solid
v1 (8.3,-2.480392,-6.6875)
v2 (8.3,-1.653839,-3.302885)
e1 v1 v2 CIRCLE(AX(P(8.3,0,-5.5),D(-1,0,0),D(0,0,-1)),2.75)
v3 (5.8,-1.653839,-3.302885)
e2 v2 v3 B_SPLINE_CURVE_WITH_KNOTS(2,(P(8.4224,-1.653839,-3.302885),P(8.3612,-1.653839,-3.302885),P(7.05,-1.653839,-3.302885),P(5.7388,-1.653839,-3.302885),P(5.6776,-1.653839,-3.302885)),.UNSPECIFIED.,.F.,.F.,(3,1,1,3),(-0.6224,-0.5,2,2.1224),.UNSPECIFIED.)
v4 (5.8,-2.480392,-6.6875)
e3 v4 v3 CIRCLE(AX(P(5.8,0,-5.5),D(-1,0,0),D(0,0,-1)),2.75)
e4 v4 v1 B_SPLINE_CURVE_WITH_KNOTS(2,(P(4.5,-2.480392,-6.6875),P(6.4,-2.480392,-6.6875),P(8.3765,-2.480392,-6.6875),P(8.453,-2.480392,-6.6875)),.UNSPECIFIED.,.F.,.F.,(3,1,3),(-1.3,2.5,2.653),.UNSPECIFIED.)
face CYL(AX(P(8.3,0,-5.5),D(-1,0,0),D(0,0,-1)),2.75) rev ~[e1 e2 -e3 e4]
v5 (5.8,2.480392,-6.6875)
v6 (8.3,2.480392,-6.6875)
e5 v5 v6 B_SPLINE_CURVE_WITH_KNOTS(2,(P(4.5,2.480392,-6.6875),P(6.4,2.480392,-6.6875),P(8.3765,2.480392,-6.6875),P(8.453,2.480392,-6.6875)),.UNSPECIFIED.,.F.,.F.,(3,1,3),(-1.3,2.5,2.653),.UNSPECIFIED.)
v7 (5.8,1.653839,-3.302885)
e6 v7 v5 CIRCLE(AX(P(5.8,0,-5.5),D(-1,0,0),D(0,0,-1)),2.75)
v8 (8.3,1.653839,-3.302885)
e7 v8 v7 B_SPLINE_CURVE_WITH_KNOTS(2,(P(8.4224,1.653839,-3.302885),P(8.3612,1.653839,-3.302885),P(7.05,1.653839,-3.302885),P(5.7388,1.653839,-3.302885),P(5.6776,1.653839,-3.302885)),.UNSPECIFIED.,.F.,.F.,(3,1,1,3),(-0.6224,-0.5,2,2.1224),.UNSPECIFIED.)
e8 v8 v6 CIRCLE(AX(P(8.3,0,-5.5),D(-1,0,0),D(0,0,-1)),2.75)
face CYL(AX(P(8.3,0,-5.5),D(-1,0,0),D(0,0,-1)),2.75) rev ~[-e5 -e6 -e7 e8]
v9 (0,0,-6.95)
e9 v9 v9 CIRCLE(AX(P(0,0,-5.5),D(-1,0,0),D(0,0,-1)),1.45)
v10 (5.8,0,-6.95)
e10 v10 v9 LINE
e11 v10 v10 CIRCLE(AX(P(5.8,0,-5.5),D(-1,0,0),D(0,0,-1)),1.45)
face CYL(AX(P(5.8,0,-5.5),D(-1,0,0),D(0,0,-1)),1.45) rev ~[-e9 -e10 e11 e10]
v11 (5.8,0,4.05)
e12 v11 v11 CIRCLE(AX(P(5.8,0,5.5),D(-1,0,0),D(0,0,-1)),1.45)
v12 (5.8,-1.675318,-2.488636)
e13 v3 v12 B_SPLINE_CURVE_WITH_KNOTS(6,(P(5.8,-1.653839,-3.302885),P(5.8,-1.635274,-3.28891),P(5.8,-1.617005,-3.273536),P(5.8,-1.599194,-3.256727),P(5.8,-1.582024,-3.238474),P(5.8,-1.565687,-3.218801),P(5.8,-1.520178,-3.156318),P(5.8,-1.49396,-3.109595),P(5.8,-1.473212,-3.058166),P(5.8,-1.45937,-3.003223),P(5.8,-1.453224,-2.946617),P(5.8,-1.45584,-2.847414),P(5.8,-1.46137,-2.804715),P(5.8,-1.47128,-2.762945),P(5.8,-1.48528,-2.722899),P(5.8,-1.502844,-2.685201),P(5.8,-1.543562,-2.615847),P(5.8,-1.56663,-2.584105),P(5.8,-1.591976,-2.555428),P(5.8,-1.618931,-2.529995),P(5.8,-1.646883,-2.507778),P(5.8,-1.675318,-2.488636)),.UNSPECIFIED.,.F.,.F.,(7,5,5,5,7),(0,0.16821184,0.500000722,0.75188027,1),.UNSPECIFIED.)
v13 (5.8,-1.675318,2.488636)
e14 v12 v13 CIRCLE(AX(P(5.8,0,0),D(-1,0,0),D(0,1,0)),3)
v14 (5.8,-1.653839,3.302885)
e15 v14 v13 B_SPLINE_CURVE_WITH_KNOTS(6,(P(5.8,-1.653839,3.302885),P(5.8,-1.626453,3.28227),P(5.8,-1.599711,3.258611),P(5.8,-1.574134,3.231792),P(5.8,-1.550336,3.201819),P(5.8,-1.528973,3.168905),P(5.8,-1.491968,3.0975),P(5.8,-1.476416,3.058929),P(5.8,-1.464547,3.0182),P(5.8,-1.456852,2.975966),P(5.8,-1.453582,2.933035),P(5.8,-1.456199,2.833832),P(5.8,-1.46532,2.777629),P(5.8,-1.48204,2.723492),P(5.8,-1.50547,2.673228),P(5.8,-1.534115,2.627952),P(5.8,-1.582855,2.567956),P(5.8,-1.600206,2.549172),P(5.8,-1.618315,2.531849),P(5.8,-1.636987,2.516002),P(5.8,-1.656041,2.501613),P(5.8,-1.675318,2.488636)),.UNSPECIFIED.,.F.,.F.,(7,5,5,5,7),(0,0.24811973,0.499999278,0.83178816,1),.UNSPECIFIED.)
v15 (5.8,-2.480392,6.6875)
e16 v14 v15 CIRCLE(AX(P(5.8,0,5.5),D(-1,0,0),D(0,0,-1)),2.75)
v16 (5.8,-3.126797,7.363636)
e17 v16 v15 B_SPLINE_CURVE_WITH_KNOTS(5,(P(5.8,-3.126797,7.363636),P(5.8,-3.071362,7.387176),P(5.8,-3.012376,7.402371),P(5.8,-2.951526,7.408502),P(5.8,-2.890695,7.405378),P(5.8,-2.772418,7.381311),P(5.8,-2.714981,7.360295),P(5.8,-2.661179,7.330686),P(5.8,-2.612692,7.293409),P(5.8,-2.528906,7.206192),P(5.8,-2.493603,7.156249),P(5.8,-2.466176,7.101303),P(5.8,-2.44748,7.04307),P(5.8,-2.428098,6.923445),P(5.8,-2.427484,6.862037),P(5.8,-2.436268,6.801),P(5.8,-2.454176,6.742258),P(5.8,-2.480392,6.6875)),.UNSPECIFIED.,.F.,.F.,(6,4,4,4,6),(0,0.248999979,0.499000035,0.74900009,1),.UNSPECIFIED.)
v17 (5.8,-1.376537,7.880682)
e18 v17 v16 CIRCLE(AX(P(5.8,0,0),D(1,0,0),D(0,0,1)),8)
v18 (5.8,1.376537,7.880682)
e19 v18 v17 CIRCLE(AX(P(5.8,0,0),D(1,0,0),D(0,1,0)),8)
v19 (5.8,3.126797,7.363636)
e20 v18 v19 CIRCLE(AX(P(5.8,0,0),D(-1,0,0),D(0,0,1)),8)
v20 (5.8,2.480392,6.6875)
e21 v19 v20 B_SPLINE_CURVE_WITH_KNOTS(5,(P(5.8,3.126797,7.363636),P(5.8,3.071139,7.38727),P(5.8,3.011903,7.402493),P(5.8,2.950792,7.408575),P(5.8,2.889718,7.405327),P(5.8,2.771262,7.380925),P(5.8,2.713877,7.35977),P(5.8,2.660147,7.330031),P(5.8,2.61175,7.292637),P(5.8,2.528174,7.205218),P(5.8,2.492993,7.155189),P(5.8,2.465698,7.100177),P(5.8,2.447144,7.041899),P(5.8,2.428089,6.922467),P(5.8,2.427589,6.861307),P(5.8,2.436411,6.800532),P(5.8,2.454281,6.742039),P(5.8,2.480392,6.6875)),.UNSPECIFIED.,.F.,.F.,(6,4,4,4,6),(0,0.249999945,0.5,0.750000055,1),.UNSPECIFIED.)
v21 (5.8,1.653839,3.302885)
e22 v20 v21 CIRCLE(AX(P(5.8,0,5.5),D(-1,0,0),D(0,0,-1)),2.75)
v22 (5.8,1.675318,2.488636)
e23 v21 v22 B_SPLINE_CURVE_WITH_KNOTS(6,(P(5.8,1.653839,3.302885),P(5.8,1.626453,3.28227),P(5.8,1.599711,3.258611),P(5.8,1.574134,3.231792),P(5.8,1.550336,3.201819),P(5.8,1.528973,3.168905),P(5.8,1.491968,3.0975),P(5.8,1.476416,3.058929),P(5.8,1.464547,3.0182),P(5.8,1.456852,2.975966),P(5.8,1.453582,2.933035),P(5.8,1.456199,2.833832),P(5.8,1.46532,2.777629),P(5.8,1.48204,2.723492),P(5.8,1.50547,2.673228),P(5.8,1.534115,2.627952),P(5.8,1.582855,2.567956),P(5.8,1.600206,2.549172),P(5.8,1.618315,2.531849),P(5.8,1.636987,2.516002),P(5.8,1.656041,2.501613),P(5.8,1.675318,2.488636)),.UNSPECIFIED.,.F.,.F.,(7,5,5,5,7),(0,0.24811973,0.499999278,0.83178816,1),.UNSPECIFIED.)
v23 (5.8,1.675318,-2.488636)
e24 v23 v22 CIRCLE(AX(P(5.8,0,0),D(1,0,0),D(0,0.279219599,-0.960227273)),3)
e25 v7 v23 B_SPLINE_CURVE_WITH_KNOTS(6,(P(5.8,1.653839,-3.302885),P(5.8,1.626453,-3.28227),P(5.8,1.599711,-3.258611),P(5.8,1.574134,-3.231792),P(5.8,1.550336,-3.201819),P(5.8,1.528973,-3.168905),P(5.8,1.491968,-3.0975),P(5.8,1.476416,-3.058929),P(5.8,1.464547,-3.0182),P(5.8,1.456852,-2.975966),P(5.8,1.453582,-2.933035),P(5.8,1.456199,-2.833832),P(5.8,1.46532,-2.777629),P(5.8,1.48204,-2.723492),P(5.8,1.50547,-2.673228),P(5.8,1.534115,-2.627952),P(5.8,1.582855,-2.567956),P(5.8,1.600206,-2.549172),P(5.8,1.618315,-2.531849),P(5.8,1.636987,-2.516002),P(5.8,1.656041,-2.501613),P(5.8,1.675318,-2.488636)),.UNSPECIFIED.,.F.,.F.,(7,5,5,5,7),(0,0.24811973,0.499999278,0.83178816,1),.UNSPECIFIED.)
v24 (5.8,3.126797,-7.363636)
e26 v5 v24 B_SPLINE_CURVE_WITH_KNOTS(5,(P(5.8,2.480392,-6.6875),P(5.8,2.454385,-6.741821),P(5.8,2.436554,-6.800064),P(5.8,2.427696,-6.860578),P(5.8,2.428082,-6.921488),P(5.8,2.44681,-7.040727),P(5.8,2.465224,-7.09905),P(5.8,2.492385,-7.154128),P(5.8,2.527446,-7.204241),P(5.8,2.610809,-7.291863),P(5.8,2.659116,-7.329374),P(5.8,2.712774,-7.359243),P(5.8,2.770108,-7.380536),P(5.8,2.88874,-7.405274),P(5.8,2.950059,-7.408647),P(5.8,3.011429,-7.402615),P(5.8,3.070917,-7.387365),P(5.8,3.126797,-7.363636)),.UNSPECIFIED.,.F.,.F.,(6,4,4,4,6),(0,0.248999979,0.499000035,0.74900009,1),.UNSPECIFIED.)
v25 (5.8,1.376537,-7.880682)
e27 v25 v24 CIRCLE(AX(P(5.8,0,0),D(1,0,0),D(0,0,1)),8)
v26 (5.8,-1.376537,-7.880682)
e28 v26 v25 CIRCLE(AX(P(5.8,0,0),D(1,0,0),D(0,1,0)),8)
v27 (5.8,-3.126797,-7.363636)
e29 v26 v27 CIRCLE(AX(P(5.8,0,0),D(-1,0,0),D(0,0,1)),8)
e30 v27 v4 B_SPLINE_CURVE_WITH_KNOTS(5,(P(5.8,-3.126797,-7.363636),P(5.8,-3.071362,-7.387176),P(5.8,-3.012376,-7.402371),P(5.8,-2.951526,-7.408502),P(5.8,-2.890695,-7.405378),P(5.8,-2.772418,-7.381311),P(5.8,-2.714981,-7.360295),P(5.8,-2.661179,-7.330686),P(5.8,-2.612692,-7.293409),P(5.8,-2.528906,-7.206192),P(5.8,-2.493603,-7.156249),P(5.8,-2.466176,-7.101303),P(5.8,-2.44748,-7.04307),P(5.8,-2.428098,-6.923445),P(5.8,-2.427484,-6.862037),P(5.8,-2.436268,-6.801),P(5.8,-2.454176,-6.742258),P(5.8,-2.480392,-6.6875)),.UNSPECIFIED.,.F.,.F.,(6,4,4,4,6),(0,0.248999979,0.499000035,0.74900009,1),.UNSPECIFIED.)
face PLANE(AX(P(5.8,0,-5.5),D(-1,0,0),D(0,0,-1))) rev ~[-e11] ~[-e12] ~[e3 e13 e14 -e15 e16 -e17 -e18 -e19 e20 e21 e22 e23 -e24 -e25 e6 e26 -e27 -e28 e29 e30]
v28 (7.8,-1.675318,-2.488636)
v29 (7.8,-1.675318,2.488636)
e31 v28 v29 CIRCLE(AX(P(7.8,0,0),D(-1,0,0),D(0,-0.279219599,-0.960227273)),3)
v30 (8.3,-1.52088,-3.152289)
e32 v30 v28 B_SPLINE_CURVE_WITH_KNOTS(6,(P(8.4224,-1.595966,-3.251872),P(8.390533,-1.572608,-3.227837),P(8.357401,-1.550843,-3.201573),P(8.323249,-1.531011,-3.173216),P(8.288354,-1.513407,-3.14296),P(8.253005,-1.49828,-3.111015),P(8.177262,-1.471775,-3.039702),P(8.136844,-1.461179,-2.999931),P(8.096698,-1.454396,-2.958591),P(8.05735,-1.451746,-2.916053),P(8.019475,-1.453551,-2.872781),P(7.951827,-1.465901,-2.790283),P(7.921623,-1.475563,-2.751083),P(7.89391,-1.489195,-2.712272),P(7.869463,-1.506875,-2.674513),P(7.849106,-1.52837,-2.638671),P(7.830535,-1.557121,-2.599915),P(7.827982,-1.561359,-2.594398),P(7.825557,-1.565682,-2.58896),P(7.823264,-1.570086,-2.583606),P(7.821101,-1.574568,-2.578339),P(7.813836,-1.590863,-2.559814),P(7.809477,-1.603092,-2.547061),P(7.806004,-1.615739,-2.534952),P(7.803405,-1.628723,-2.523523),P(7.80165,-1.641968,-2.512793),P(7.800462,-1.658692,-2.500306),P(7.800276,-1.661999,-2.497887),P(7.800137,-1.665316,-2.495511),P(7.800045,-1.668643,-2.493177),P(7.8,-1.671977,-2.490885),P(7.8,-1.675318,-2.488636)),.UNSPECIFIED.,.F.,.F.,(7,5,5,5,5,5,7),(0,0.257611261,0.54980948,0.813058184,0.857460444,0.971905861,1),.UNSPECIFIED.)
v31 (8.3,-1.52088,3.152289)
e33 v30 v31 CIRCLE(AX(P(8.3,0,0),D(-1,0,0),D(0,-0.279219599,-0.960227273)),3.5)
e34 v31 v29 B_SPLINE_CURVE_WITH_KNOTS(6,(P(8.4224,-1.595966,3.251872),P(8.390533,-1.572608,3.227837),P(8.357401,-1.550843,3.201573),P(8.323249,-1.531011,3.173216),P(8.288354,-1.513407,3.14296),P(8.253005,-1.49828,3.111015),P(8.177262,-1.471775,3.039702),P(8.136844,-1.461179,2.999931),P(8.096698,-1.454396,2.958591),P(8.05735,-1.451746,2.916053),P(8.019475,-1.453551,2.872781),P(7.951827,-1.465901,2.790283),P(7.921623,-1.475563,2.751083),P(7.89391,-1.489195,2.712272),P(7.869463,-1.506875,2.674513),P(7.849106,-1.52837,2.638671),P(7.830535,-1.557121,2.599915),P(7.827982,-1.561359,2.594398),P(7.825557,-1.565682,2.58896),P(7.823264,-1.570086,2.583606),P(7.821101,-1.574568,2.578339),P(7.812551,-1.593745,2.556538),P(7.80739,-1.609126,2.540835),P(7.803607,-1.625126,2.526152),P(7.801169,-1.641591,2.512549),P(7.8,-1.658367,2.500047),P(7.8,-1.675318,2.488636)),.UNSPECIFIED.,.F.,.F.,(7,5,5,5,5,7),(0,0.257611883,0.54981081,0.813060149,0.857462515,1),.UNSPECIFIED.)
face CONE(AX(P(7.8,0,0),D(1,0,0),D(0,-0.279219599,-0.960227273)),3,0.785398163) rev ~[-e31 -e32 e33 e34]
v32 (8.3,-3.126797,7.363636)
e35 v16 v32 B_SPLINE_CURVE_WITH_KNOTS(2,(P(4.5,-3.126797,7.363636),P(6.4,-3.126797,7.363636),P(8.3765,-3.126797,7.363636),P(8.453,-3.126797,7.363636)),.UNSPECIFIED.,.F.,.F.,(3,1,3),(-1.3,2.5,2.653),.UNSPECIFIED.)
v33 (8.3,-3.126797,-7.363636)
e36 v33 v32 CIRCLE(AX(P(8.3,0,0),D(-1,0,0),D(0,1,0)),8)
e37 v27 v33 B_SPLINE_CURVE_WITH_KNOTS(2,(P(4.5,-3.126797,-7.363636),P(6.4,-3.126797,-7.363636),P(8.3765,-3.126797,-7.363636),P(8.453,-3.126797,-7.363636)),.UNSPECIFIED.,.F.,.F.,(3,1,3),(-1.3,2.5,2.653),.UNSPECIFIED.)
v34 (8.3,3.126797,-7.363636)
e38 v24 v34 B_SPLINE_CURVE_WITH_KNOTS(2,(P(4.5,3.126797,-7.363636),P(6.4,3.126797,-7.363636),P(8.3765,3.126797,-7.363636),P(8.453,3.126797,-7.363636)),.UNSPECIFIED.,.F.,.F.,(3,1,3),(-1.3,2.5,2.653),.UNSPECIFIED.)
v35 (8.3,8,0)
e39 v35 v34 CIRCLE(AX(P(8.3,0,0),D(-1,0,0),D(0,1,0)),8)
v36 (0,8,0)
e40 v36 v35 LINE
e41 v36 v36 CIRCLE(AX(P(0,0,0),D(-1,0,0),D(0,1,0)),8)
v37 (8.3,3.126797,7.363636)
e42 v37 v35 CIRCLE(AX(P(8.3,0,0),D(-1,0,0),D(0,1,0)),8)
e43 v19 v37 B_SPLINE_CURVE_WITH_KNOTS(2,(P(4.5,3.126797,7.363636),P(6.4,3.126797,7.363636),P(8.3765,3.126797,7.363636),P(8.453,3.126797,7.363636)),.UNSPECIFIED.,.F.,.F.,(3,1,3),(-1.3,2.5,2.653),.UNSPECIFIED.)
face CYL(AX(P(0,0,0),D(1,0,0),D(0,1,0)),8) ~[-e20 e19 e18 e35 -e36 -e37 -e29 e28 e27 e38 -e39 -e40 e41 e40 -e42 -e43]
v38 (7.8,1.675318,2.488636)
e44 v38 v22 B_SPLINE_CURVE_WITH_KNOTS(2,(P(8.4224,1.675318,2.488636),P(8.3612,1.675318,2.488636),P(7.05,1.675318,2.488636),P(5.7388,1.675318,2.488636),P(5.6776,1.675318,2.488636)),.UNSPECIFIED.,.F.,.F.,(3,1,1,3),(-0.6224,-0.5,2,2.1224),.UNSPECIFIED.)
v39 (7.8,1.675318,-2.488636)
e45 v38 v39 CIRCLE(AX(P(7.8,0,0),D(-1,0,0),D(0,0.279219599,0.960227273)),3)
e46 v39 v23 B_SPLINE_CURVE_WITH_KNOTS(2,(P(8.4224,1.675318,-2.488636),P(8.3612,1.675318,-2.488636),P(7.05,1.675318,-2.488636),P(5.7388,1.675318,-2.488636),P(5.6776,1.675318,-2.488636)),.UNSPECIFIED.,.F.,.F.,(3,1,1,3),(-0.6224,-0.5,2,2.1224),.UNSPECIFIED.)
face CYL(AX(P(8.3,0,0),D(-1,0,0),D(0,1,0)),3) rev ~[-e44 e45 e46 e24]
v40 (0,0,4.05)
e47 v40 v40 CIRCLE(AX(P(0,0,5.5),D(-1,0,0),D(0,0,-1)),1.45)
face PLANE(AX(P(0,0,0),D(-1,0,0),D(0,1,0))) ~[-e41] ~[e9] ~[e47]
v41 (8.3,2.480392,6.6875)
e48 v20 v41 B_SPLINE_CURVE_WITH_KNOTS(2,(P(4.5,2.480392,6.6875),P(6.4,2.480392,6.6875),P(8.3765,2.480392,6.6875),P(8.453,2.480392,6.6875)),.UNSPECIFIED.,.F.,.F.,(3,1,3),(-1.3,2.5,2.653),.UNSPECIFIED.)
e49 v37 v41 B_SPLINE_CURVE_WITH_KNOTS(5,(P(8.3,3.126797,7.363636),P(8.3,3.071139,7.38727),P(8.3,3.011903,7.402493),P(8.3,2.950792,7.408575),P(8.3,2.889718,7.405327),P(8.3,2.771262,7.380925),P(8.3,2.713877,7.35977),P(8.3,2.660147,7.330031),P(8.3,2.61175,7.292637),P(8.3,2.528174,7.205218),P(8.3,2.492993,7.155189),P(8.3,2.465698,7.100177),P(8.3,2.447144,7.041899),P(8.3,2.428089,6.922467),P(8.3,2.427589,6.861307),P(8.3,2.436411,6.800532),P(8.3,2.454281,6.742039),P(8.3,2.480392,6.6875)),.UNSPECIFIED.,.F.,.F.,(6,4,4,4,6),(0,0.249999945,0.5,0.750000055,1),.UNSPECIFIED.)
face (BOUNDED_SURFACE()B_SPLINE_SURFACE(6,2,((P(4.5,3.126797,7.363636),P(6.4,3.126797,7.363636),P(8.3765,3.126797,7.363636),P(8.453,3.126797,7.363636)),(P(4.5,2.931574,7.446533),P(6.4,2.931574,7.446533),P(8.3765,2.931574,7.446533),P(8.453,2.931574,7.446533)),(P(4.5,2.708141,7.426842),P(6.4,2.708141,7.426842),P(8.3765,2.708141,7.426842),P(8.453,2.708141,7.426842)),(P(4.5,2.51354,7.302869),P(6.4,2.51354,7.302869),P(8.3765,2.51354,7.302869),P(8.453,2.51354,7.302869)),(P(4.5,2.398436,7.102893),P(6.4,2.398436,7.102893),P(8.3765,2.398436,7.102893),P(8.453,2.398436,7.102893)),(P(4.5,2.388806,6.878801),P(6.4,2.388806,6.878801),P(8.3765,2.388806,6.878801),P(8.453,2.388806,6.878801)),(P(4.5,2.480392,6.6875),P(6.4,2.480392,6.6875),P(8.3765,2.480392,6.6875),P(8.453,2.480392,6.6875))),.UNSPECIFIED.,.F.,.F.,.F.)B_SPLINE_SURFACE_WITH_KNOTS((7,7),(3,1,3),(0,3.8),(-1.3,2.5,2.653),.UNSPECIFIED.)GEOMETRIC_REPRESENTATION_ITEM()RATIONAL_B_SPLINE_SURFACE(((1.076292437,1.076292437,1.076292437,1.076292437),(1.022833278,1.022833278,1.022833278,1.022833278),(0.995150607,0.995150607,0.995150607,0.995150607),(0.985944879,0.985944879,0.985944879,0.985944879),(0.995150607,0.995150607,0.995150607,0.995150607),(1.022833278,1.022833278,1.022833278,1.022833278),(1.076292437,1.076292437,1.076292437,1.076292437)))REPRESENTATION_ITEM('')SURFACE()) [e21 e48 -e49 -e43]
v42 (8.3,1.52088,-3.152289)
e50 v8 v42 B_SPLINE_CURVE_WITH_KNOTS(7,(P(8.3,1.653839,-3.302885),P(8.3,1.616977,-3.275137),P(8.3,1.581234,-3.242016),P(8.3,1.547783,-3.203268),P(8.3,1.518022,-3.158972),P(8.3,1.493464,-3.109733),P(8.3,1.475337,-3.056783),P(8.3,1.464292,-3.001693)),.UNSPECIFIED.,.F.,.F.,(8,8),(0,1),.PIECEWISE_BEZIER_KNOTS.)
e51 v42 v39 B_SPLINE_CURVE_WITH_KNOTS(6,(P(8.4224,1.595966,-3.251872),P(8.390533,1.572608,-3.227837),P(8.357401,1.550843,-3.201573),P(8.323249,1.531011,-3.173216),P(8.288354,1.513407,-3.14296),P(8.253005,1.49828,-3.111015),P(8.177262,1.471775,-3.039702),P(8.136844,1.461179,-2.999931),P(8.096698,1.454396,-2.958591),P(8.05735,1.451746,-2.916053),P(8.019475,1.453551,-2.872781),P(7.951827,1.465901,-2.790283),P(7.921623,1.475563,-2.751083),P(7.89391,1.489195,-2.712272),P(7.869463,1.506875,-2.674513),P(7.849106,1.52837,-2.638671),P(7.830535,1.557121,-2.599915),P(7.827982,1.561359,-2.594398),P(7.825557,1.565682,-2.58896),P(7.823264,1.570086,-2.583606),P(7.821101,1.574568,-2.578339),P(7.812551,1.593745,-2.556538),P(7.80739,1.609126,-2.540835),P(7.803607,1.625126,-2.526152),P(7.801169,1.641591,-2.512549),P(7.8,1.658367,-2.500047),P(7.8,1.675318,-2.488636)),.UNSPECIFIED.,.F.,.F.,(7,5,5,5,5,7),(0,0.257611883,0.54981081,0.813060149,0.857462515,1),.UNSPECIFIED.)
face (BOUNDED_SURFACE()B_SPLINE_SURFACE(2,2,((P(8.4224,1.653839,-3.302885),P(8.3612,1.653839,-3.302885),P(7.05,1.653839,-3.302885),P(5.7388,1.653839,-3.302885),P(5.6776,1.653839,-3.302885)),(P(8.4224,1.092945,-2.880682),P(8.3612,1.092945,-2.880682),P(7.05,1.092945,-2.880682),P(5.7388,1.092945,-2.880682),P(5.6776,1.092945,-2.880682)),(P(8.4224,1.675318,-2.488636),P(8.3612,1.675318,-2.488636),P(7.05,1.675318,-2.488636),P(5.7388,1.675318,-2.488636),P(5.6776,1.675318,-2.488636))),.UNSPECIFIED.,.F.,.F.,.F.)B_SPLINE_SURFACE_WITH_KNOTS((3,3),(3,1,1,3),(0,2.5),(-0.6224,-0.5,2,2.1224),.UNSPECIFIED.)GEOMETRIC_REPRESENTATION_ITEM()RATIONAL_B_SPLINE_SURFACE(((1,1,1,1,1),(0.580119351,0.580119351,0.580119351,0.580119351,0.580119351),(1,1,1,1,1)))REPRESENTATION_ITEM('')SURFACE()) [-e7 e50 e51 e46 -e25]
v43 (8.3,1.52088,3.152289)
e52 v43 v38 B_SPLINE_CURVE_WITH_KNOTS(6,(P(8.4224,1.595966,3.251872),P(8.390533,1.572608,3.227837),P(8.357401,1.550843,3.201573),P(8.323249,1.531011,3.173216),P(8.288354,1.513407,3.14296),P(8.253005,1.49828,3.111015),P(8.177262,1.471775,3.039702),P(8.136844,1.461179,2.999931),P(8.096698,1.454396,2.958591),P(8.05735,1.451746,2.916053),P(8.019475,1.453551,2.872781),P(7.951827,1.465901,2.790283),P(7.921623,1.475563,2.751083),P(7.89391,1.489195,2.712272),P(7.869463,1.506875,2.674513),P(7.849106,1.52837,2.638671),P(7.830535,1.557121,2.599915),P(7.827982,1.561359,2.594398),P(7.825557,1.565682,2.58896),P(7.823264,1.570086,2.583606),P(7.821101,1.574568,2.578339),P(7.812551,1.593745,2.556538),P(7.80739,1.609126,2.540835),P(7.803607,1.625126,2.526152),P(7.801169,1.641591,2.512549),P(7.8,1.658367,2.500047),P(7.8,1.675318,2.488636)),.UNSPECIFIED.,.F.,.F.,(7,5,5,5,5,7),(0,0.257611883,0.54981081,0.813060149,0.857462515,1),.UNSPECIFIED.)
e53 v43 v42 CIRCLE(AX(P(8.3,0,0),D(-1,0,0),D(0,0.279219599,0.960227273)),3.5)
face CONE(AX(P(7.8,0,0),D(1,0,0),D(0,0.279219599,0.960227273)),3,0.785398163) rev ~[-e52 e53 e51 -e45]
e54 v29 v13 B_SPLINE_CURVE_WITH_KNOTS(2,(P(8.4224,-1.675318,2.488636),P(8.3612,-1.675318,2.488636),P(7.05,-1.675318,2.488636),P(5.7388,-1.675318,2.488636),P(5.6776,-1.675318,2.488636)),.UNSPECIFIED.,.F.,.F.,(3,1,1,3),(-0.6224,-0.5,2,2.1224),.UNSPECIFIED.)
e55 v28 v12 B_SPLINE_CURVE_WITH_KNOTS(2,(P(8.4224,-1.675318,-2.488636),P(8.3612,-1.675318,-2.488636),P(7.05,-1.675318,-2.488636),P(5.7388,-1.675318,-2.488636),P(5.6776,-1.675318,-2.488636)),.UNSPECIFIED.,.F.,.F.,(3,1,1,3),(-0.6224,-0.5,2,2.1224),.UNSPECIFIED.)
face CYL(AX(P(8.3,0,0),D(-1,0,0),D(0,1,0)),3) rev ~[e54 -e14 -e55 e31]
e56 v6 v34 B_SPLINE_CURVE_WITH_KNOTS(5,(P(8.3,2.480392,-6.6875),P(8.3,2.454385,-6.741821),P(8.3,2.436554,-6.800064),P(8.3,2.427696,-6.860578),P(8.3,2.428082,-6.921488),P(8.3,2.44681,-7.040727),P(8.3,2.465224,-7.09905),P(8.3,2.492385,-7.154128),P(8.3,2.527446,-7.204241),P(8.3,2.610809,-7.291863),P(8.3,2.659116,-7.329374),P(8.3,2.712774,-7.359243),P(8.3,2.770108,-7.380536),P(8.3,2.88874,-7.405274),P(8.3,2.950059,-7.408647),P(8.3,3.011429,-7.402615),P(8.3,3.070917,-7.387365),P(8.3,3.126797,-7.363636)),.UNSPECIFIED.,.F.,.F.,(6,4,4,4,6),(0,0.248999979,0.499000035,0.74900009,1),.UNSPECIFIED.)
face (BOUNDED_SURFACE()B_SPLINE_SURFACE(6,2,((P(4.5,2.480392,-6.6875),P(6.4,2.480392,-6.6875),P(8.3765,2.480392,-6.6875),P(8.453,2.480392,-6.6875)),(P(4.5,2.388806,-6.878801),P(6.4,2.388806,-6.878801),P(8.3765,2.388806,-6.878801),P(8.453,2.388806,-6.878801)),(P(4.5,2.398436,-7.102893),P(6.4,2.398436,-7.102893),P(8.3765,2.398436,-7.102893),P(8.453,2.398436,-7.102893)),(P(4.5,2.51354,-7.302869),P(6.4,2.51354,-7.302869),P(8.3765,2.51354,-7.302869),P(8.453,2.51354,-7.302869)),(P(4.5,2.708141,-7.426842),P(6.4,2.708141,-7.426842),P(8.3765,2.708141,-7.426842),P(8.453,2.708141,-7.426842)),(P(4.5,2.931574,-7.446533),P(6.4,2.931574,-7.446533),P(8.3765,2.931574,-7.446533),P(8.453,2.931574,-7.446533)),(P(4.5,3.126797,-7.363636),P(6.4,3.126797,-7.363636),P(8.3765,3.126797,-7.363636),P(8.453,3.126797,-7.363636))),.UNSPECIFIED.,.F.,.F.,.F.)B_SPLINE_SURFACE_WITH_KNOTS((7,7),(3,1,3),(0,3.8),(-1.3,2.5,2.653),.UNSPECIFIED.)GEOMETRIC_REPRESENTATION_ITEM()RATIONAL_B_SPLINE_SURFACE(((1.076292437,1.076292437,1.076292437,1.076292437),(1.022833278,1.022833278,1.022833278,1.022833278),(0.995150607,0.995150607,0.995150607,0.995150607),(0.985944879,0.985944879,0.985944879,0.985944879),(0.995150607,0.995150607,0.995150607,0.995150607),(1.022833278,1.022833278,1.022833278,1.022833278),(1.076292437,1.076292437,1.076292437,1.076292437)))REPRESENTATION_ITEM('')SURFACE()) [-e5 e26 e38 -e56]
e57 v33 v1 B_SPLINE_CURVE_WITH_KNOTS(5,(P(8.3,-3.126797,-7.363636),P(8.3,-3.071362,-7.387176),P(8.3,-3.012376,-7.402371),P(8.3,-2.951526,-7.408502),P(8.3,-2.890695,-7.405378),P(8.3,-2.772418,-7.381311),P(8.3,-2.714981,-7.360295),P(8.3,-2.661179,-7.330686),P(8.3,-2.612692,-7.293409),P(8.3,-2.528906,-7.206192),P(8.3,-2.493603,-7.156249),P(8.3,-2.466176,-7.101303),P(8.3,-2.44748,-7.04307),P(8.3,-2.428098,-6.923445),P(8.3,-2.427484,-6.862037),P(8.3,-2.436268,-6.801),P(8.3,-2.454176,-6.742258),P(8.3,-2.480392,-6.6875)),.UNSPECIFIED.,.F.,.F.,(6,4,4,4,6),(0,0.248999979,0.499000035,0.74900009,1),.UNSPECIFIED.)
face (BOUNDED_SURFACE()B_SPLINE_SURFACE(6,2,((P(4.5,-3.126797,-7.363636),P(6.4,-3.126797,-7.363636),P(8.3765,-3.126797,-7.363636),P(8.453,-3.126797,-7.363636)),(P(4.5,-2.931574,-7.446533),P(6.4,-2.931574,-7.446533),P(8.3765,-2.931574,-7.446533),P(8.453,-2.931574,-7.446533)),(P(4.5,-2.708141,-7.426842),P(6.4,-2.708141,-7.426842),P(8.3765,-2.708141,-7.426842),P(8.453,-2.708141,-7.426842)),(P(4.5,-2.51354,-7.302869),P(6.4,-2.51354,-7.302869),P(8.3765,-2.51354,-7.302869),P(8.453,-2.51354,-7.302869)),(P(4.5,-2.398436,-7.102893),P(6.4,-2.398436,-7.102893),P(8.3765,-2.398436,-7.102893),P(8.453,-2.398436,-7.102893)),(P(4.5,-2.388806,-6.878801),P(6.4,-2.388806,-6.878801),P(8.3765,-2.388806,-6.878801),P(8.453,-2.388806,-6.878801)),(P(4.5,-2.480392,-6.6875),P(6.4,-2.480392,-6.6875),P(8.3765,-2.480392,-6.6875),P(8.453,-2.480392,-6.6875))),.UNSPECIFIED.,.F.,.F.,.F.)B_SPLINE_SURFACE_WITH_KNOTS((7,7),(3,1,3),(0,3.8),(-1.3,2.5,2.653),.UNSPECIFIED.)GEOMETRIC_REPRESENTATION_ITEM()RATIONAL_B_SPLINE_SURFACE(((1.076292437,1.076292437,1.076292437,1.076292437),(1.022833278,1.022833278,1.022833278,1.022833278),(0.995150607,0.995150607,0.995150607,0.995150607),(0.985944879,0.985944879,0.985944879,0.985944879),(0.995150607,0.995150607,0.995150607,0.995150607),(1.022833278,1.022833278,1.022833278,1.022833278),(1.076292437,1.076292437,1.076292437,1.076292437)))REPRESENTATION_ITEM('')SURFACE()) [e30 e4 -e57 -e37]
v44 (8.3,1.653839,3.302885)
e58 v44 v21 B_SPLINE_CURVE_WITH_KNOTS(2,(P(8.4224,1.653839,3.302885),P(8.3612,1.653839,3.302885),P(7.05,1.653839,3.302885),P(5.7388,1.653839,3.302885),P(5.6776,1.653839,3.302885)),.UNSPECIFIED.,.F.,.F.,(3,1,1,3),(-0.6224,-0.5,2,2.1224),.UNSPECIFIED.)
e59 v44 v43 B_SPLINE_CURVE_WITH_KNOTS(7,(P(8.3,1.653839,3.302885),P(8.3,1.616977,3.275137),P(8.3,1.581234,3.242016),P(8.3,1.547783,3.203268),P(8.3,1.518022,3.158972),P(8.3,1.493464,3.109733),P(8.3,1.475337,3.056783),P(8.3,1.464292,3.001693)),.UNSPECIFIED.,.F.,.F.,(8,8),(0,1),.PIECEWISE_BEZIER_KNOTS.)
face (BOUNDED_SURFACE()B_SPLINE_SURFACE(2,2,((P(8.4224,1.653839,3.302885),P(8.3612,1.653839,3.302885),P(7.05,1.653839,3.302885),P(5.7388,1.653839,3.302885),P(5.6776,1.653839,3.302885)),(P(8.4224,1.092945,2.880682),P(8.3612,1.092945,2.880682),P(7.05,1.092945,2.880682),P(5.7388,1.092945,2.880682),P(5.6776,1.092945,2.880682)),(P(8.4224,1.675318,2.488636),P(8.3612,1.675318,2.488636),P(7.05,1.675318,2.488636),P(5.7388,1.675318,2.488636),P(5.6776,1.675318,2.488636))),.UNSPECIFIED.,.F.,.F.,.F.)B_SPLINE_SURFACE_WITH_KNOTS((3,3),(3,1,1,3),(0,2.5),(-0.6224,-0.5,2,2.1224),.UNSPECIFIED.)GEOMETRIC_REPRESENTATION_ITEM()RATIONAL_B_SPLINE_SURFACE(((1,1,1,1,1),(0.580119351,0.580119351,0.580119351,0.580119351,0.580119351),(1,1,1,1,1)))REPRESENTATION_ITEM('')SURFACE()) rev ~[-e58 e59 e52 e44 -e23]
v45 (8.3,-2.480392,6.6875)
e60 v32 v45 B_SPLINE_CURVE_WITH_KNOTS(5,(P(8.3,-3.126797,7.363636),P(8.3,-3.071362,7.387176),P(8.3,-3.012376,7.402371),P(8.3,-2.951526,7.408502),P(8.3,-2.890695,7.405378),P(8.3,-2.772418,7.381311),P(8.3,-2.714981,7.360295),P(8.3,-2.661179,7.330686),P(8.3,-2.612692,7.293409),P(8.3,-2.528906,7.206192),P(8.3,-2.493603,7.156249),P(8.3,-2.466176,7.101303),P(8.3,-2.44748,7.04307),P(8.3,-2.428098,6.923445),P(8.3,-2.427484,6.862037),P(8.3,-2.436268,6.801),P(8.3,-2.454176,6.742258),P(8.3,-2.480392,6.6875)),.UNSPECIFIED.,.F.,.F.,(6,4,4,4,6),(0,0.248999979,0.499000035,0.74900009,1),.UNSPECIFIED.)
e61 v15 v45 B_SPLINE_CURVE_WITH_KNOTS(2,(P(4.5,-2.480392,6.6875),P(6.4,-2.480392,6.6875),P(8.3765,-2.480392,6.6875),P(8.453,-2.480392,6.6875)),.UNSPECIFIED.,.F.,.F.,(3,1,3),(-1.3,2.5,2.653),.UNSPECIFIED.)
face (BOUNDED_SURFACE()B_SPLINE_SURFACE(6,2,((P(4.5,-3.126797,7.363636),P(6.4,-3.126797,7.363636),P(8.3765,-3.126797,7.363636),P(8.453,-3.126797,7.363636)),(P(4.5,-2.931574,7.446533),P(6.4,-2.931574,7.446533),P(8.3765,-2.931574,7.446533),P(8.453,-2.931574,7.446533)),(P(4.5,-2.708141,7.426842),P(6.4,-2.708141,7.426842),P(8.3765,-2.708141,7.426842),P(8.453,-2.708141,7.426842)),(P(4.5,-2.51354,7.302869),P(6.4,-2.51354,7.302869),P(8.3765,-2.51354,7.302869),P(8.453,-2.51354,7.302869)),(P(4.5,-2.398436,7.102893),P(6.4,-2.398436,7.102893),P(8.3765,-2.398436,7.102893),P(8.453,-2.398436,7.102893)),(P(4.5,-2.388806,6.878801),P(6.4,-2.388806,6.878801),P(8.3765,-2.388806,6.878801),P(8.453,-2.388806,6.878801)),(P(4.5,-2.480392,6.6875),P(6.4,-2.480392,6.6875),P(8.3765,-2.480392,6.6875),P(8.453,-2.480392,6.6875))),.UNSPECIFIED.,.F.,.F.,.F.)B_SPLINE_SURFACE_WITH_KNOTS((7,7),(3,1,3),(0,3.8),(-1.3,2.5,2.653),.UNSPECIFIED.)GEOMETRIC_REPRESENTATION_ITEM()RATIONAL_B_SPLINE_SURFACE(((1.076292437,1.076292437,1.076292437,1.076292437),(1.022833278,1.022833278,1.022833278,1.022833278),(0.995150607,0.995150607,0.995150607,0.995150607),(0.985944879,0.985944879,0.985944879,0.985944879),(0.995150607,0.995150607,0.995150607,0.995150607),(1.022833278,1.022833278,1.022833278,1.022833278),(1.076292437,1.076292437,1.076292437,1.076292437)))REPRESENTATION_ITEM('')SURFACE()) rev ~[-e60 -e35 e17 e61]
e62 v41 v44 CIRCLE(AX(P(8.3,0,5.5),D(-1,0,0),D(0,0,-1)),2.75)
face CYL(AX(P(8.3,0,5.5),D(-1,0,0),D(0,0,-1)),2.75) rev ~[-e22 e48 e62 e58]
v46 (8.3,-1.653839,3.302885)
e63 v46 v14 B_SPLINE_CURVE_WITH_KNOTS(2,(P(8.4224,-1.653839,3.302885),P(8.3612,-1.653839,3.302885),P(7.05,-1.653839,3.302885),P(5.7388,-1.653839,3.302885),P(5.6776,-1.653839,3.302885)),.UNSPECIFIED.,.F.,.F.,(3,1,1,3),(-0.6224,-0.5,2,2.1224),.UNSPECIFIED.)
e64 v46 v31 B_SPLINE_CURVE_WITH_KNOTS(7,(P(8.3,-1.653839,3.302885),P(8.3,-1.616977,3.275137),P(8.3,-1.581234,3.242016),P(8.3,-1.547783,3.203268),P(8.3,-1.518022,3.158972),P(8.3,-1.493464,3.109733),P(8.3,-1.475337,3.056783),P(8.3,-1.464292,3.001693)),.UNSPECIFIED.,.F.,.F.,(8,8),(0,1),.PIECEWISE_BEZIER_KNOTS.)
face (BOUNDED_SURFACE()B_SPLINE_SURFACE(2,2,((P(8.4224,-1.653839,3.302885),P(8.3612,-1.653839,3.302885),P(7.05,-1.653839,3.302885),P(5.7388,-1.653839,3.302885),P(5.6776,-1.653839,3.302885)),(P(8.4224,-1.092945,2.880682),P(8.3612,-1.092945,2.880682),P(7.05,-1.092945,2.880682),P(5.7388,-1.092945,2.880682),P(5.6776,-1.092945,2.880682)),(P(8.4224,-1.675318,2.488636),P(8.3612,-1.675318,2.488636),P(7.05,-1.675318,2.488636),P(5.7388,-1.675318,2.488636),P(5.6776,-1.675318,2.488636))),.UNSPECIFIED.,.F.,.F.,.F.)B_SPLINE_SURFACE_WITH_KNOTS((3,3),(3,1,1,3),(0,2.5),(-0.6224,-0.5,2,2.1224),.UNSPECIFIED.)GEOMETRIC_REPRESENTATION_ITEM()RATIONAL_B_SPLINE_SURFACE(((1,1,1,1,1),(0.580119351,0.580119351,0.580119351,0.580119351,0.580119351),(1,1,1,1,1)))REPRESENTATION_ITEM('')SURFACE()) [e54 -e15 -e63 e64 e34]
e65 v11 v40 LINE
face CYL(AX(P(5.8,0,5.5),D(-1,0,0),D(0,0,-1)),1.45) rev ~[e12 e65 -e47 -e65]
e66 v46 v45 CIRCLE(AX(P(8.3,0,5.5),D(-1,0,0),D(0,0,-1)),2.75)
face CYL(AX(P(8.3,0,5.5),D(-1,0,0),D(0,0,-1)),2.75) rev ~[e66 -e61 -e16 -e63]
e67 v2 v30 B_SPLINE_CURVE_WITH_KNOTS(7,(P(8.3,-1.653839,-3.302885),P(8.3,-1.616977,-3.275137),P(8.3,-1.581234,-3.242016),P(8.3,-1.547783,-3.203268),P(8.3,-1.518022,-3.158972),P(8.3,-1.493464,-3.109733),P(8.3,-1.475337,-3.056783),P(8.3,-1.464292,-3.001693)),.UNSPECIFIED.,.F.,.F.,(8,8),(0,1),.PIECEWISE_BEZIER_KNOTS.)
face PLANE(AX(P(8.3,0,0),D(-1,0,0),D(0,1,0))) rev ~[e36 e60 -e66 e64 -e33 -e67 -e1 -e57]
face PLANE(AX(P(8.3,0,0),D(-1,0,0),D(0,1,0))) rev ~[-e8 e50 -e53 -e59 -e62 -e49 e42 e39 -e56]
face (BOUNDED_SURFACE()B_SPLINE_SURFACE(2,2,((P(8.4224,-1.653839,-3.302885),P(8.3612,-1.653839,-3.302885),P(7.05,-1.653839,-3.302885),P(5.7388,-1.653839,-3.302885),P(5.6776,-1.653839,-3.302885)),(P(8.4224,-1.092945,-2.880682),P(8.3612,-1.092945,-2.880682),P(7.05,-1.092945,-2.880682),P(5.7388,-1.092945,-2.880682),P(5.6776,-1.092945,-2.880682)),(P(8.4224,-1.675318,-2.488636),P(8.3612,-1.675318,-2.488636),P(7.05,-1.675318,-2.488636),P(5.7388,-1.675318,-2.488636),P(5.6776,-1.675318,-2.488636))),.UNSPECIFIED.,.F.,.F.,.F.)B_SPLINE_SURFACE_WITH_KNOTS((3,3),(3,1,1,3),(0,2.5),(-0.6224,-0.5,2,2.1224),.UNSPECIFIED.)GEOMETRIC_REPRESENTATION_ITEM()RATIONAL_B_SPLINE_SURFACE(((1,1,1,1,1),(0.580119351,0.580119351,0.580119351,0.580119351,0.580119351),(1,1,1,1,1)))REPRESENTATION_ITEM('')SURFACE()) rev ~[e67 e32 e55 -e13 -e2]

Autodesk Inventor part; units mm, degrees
ref_plane "YZ Plane" through (0, 0, 0) normal (1, 0, 0) x (0, 1, 0)
ref_plane "XZ Plane" through (0, 0, 0) normal (0, 1, 0) x (-1, 0, 0)
ref_plane "XY Plane" through (0, 0, 0) normal (0, 0, 1) x (1, 0, 0)
sketch "スケッチ1" plane through (0, 0, 0) normal (0, 0, 1) x (1, 0, 0)
  line L0 (0, 0) -> (0, 3.5)
  line L1 (0, 3.5) -> (0, 3.5)
  line L2 (0, 3.5) -> (0, 8)
  line L3 (0, 8) -> (8.3, 8)
  line L4 (8.3, 8) -> (8.3, 3)
  line L5 (8.3, 3) -> (5.8, 3)
  line L6 (5.8, 3) -> (5.8, 0)
  line L7 (5.8, 0) -> (0, 0)
  dimension "d0" = 3.5
  dimension "d1" = 3
  dimension "d2" = 2.5
  dimension "d4" = 0
  dimension "d5" = 8
  dimension "d34" = 5.8
revolve "回転1" add sketch "スケッチ1" angle 360 about axis through (5.8, 0, 0) along (-1, 0, 0)
sketch "スケッチ2" plane through (8.3, 0, 0) normal (1, 0, 0) x (0, 0, -1)
  point P0 (0, 0)
  point P1 (-5.5, 0)
  point P2 (5.5, 0)
  dimension "d10" = 5.5
  dimension "d11" = 5.5
hole "穴1" at (8.3, 0, 5.5) at (8.3, 0, -5.5) direction (-1, 0, 0) diameter 2.9 end through all counterbore diameter 5.5 counterbore depth 2.5 clearance for "Socket Head Cap Screw" size "M2.5" standard "Ansi Metric M Profile"
chamfer "面取り5" distance 0.5 angle 45 2 edges at (8.3, 3, 0) (8.3, -3, 0)
fillet "フィレット2" radius 0.5 8 edges at (6.8, 0.8377, -2.8807) (6.8, 0.8377, 2.8807) (6.8, -0.8377, 2.8807) (6.8, -0.8377, -2.8807) (7.05, 1.3765, -7.8807) (7.05, 1.3765, 7.8807) (7.05, -1.3765, 7.8807) (7.05, -1.3765, -7.8807)
properties part number "scara-base21" material "ABS プラスチック"
